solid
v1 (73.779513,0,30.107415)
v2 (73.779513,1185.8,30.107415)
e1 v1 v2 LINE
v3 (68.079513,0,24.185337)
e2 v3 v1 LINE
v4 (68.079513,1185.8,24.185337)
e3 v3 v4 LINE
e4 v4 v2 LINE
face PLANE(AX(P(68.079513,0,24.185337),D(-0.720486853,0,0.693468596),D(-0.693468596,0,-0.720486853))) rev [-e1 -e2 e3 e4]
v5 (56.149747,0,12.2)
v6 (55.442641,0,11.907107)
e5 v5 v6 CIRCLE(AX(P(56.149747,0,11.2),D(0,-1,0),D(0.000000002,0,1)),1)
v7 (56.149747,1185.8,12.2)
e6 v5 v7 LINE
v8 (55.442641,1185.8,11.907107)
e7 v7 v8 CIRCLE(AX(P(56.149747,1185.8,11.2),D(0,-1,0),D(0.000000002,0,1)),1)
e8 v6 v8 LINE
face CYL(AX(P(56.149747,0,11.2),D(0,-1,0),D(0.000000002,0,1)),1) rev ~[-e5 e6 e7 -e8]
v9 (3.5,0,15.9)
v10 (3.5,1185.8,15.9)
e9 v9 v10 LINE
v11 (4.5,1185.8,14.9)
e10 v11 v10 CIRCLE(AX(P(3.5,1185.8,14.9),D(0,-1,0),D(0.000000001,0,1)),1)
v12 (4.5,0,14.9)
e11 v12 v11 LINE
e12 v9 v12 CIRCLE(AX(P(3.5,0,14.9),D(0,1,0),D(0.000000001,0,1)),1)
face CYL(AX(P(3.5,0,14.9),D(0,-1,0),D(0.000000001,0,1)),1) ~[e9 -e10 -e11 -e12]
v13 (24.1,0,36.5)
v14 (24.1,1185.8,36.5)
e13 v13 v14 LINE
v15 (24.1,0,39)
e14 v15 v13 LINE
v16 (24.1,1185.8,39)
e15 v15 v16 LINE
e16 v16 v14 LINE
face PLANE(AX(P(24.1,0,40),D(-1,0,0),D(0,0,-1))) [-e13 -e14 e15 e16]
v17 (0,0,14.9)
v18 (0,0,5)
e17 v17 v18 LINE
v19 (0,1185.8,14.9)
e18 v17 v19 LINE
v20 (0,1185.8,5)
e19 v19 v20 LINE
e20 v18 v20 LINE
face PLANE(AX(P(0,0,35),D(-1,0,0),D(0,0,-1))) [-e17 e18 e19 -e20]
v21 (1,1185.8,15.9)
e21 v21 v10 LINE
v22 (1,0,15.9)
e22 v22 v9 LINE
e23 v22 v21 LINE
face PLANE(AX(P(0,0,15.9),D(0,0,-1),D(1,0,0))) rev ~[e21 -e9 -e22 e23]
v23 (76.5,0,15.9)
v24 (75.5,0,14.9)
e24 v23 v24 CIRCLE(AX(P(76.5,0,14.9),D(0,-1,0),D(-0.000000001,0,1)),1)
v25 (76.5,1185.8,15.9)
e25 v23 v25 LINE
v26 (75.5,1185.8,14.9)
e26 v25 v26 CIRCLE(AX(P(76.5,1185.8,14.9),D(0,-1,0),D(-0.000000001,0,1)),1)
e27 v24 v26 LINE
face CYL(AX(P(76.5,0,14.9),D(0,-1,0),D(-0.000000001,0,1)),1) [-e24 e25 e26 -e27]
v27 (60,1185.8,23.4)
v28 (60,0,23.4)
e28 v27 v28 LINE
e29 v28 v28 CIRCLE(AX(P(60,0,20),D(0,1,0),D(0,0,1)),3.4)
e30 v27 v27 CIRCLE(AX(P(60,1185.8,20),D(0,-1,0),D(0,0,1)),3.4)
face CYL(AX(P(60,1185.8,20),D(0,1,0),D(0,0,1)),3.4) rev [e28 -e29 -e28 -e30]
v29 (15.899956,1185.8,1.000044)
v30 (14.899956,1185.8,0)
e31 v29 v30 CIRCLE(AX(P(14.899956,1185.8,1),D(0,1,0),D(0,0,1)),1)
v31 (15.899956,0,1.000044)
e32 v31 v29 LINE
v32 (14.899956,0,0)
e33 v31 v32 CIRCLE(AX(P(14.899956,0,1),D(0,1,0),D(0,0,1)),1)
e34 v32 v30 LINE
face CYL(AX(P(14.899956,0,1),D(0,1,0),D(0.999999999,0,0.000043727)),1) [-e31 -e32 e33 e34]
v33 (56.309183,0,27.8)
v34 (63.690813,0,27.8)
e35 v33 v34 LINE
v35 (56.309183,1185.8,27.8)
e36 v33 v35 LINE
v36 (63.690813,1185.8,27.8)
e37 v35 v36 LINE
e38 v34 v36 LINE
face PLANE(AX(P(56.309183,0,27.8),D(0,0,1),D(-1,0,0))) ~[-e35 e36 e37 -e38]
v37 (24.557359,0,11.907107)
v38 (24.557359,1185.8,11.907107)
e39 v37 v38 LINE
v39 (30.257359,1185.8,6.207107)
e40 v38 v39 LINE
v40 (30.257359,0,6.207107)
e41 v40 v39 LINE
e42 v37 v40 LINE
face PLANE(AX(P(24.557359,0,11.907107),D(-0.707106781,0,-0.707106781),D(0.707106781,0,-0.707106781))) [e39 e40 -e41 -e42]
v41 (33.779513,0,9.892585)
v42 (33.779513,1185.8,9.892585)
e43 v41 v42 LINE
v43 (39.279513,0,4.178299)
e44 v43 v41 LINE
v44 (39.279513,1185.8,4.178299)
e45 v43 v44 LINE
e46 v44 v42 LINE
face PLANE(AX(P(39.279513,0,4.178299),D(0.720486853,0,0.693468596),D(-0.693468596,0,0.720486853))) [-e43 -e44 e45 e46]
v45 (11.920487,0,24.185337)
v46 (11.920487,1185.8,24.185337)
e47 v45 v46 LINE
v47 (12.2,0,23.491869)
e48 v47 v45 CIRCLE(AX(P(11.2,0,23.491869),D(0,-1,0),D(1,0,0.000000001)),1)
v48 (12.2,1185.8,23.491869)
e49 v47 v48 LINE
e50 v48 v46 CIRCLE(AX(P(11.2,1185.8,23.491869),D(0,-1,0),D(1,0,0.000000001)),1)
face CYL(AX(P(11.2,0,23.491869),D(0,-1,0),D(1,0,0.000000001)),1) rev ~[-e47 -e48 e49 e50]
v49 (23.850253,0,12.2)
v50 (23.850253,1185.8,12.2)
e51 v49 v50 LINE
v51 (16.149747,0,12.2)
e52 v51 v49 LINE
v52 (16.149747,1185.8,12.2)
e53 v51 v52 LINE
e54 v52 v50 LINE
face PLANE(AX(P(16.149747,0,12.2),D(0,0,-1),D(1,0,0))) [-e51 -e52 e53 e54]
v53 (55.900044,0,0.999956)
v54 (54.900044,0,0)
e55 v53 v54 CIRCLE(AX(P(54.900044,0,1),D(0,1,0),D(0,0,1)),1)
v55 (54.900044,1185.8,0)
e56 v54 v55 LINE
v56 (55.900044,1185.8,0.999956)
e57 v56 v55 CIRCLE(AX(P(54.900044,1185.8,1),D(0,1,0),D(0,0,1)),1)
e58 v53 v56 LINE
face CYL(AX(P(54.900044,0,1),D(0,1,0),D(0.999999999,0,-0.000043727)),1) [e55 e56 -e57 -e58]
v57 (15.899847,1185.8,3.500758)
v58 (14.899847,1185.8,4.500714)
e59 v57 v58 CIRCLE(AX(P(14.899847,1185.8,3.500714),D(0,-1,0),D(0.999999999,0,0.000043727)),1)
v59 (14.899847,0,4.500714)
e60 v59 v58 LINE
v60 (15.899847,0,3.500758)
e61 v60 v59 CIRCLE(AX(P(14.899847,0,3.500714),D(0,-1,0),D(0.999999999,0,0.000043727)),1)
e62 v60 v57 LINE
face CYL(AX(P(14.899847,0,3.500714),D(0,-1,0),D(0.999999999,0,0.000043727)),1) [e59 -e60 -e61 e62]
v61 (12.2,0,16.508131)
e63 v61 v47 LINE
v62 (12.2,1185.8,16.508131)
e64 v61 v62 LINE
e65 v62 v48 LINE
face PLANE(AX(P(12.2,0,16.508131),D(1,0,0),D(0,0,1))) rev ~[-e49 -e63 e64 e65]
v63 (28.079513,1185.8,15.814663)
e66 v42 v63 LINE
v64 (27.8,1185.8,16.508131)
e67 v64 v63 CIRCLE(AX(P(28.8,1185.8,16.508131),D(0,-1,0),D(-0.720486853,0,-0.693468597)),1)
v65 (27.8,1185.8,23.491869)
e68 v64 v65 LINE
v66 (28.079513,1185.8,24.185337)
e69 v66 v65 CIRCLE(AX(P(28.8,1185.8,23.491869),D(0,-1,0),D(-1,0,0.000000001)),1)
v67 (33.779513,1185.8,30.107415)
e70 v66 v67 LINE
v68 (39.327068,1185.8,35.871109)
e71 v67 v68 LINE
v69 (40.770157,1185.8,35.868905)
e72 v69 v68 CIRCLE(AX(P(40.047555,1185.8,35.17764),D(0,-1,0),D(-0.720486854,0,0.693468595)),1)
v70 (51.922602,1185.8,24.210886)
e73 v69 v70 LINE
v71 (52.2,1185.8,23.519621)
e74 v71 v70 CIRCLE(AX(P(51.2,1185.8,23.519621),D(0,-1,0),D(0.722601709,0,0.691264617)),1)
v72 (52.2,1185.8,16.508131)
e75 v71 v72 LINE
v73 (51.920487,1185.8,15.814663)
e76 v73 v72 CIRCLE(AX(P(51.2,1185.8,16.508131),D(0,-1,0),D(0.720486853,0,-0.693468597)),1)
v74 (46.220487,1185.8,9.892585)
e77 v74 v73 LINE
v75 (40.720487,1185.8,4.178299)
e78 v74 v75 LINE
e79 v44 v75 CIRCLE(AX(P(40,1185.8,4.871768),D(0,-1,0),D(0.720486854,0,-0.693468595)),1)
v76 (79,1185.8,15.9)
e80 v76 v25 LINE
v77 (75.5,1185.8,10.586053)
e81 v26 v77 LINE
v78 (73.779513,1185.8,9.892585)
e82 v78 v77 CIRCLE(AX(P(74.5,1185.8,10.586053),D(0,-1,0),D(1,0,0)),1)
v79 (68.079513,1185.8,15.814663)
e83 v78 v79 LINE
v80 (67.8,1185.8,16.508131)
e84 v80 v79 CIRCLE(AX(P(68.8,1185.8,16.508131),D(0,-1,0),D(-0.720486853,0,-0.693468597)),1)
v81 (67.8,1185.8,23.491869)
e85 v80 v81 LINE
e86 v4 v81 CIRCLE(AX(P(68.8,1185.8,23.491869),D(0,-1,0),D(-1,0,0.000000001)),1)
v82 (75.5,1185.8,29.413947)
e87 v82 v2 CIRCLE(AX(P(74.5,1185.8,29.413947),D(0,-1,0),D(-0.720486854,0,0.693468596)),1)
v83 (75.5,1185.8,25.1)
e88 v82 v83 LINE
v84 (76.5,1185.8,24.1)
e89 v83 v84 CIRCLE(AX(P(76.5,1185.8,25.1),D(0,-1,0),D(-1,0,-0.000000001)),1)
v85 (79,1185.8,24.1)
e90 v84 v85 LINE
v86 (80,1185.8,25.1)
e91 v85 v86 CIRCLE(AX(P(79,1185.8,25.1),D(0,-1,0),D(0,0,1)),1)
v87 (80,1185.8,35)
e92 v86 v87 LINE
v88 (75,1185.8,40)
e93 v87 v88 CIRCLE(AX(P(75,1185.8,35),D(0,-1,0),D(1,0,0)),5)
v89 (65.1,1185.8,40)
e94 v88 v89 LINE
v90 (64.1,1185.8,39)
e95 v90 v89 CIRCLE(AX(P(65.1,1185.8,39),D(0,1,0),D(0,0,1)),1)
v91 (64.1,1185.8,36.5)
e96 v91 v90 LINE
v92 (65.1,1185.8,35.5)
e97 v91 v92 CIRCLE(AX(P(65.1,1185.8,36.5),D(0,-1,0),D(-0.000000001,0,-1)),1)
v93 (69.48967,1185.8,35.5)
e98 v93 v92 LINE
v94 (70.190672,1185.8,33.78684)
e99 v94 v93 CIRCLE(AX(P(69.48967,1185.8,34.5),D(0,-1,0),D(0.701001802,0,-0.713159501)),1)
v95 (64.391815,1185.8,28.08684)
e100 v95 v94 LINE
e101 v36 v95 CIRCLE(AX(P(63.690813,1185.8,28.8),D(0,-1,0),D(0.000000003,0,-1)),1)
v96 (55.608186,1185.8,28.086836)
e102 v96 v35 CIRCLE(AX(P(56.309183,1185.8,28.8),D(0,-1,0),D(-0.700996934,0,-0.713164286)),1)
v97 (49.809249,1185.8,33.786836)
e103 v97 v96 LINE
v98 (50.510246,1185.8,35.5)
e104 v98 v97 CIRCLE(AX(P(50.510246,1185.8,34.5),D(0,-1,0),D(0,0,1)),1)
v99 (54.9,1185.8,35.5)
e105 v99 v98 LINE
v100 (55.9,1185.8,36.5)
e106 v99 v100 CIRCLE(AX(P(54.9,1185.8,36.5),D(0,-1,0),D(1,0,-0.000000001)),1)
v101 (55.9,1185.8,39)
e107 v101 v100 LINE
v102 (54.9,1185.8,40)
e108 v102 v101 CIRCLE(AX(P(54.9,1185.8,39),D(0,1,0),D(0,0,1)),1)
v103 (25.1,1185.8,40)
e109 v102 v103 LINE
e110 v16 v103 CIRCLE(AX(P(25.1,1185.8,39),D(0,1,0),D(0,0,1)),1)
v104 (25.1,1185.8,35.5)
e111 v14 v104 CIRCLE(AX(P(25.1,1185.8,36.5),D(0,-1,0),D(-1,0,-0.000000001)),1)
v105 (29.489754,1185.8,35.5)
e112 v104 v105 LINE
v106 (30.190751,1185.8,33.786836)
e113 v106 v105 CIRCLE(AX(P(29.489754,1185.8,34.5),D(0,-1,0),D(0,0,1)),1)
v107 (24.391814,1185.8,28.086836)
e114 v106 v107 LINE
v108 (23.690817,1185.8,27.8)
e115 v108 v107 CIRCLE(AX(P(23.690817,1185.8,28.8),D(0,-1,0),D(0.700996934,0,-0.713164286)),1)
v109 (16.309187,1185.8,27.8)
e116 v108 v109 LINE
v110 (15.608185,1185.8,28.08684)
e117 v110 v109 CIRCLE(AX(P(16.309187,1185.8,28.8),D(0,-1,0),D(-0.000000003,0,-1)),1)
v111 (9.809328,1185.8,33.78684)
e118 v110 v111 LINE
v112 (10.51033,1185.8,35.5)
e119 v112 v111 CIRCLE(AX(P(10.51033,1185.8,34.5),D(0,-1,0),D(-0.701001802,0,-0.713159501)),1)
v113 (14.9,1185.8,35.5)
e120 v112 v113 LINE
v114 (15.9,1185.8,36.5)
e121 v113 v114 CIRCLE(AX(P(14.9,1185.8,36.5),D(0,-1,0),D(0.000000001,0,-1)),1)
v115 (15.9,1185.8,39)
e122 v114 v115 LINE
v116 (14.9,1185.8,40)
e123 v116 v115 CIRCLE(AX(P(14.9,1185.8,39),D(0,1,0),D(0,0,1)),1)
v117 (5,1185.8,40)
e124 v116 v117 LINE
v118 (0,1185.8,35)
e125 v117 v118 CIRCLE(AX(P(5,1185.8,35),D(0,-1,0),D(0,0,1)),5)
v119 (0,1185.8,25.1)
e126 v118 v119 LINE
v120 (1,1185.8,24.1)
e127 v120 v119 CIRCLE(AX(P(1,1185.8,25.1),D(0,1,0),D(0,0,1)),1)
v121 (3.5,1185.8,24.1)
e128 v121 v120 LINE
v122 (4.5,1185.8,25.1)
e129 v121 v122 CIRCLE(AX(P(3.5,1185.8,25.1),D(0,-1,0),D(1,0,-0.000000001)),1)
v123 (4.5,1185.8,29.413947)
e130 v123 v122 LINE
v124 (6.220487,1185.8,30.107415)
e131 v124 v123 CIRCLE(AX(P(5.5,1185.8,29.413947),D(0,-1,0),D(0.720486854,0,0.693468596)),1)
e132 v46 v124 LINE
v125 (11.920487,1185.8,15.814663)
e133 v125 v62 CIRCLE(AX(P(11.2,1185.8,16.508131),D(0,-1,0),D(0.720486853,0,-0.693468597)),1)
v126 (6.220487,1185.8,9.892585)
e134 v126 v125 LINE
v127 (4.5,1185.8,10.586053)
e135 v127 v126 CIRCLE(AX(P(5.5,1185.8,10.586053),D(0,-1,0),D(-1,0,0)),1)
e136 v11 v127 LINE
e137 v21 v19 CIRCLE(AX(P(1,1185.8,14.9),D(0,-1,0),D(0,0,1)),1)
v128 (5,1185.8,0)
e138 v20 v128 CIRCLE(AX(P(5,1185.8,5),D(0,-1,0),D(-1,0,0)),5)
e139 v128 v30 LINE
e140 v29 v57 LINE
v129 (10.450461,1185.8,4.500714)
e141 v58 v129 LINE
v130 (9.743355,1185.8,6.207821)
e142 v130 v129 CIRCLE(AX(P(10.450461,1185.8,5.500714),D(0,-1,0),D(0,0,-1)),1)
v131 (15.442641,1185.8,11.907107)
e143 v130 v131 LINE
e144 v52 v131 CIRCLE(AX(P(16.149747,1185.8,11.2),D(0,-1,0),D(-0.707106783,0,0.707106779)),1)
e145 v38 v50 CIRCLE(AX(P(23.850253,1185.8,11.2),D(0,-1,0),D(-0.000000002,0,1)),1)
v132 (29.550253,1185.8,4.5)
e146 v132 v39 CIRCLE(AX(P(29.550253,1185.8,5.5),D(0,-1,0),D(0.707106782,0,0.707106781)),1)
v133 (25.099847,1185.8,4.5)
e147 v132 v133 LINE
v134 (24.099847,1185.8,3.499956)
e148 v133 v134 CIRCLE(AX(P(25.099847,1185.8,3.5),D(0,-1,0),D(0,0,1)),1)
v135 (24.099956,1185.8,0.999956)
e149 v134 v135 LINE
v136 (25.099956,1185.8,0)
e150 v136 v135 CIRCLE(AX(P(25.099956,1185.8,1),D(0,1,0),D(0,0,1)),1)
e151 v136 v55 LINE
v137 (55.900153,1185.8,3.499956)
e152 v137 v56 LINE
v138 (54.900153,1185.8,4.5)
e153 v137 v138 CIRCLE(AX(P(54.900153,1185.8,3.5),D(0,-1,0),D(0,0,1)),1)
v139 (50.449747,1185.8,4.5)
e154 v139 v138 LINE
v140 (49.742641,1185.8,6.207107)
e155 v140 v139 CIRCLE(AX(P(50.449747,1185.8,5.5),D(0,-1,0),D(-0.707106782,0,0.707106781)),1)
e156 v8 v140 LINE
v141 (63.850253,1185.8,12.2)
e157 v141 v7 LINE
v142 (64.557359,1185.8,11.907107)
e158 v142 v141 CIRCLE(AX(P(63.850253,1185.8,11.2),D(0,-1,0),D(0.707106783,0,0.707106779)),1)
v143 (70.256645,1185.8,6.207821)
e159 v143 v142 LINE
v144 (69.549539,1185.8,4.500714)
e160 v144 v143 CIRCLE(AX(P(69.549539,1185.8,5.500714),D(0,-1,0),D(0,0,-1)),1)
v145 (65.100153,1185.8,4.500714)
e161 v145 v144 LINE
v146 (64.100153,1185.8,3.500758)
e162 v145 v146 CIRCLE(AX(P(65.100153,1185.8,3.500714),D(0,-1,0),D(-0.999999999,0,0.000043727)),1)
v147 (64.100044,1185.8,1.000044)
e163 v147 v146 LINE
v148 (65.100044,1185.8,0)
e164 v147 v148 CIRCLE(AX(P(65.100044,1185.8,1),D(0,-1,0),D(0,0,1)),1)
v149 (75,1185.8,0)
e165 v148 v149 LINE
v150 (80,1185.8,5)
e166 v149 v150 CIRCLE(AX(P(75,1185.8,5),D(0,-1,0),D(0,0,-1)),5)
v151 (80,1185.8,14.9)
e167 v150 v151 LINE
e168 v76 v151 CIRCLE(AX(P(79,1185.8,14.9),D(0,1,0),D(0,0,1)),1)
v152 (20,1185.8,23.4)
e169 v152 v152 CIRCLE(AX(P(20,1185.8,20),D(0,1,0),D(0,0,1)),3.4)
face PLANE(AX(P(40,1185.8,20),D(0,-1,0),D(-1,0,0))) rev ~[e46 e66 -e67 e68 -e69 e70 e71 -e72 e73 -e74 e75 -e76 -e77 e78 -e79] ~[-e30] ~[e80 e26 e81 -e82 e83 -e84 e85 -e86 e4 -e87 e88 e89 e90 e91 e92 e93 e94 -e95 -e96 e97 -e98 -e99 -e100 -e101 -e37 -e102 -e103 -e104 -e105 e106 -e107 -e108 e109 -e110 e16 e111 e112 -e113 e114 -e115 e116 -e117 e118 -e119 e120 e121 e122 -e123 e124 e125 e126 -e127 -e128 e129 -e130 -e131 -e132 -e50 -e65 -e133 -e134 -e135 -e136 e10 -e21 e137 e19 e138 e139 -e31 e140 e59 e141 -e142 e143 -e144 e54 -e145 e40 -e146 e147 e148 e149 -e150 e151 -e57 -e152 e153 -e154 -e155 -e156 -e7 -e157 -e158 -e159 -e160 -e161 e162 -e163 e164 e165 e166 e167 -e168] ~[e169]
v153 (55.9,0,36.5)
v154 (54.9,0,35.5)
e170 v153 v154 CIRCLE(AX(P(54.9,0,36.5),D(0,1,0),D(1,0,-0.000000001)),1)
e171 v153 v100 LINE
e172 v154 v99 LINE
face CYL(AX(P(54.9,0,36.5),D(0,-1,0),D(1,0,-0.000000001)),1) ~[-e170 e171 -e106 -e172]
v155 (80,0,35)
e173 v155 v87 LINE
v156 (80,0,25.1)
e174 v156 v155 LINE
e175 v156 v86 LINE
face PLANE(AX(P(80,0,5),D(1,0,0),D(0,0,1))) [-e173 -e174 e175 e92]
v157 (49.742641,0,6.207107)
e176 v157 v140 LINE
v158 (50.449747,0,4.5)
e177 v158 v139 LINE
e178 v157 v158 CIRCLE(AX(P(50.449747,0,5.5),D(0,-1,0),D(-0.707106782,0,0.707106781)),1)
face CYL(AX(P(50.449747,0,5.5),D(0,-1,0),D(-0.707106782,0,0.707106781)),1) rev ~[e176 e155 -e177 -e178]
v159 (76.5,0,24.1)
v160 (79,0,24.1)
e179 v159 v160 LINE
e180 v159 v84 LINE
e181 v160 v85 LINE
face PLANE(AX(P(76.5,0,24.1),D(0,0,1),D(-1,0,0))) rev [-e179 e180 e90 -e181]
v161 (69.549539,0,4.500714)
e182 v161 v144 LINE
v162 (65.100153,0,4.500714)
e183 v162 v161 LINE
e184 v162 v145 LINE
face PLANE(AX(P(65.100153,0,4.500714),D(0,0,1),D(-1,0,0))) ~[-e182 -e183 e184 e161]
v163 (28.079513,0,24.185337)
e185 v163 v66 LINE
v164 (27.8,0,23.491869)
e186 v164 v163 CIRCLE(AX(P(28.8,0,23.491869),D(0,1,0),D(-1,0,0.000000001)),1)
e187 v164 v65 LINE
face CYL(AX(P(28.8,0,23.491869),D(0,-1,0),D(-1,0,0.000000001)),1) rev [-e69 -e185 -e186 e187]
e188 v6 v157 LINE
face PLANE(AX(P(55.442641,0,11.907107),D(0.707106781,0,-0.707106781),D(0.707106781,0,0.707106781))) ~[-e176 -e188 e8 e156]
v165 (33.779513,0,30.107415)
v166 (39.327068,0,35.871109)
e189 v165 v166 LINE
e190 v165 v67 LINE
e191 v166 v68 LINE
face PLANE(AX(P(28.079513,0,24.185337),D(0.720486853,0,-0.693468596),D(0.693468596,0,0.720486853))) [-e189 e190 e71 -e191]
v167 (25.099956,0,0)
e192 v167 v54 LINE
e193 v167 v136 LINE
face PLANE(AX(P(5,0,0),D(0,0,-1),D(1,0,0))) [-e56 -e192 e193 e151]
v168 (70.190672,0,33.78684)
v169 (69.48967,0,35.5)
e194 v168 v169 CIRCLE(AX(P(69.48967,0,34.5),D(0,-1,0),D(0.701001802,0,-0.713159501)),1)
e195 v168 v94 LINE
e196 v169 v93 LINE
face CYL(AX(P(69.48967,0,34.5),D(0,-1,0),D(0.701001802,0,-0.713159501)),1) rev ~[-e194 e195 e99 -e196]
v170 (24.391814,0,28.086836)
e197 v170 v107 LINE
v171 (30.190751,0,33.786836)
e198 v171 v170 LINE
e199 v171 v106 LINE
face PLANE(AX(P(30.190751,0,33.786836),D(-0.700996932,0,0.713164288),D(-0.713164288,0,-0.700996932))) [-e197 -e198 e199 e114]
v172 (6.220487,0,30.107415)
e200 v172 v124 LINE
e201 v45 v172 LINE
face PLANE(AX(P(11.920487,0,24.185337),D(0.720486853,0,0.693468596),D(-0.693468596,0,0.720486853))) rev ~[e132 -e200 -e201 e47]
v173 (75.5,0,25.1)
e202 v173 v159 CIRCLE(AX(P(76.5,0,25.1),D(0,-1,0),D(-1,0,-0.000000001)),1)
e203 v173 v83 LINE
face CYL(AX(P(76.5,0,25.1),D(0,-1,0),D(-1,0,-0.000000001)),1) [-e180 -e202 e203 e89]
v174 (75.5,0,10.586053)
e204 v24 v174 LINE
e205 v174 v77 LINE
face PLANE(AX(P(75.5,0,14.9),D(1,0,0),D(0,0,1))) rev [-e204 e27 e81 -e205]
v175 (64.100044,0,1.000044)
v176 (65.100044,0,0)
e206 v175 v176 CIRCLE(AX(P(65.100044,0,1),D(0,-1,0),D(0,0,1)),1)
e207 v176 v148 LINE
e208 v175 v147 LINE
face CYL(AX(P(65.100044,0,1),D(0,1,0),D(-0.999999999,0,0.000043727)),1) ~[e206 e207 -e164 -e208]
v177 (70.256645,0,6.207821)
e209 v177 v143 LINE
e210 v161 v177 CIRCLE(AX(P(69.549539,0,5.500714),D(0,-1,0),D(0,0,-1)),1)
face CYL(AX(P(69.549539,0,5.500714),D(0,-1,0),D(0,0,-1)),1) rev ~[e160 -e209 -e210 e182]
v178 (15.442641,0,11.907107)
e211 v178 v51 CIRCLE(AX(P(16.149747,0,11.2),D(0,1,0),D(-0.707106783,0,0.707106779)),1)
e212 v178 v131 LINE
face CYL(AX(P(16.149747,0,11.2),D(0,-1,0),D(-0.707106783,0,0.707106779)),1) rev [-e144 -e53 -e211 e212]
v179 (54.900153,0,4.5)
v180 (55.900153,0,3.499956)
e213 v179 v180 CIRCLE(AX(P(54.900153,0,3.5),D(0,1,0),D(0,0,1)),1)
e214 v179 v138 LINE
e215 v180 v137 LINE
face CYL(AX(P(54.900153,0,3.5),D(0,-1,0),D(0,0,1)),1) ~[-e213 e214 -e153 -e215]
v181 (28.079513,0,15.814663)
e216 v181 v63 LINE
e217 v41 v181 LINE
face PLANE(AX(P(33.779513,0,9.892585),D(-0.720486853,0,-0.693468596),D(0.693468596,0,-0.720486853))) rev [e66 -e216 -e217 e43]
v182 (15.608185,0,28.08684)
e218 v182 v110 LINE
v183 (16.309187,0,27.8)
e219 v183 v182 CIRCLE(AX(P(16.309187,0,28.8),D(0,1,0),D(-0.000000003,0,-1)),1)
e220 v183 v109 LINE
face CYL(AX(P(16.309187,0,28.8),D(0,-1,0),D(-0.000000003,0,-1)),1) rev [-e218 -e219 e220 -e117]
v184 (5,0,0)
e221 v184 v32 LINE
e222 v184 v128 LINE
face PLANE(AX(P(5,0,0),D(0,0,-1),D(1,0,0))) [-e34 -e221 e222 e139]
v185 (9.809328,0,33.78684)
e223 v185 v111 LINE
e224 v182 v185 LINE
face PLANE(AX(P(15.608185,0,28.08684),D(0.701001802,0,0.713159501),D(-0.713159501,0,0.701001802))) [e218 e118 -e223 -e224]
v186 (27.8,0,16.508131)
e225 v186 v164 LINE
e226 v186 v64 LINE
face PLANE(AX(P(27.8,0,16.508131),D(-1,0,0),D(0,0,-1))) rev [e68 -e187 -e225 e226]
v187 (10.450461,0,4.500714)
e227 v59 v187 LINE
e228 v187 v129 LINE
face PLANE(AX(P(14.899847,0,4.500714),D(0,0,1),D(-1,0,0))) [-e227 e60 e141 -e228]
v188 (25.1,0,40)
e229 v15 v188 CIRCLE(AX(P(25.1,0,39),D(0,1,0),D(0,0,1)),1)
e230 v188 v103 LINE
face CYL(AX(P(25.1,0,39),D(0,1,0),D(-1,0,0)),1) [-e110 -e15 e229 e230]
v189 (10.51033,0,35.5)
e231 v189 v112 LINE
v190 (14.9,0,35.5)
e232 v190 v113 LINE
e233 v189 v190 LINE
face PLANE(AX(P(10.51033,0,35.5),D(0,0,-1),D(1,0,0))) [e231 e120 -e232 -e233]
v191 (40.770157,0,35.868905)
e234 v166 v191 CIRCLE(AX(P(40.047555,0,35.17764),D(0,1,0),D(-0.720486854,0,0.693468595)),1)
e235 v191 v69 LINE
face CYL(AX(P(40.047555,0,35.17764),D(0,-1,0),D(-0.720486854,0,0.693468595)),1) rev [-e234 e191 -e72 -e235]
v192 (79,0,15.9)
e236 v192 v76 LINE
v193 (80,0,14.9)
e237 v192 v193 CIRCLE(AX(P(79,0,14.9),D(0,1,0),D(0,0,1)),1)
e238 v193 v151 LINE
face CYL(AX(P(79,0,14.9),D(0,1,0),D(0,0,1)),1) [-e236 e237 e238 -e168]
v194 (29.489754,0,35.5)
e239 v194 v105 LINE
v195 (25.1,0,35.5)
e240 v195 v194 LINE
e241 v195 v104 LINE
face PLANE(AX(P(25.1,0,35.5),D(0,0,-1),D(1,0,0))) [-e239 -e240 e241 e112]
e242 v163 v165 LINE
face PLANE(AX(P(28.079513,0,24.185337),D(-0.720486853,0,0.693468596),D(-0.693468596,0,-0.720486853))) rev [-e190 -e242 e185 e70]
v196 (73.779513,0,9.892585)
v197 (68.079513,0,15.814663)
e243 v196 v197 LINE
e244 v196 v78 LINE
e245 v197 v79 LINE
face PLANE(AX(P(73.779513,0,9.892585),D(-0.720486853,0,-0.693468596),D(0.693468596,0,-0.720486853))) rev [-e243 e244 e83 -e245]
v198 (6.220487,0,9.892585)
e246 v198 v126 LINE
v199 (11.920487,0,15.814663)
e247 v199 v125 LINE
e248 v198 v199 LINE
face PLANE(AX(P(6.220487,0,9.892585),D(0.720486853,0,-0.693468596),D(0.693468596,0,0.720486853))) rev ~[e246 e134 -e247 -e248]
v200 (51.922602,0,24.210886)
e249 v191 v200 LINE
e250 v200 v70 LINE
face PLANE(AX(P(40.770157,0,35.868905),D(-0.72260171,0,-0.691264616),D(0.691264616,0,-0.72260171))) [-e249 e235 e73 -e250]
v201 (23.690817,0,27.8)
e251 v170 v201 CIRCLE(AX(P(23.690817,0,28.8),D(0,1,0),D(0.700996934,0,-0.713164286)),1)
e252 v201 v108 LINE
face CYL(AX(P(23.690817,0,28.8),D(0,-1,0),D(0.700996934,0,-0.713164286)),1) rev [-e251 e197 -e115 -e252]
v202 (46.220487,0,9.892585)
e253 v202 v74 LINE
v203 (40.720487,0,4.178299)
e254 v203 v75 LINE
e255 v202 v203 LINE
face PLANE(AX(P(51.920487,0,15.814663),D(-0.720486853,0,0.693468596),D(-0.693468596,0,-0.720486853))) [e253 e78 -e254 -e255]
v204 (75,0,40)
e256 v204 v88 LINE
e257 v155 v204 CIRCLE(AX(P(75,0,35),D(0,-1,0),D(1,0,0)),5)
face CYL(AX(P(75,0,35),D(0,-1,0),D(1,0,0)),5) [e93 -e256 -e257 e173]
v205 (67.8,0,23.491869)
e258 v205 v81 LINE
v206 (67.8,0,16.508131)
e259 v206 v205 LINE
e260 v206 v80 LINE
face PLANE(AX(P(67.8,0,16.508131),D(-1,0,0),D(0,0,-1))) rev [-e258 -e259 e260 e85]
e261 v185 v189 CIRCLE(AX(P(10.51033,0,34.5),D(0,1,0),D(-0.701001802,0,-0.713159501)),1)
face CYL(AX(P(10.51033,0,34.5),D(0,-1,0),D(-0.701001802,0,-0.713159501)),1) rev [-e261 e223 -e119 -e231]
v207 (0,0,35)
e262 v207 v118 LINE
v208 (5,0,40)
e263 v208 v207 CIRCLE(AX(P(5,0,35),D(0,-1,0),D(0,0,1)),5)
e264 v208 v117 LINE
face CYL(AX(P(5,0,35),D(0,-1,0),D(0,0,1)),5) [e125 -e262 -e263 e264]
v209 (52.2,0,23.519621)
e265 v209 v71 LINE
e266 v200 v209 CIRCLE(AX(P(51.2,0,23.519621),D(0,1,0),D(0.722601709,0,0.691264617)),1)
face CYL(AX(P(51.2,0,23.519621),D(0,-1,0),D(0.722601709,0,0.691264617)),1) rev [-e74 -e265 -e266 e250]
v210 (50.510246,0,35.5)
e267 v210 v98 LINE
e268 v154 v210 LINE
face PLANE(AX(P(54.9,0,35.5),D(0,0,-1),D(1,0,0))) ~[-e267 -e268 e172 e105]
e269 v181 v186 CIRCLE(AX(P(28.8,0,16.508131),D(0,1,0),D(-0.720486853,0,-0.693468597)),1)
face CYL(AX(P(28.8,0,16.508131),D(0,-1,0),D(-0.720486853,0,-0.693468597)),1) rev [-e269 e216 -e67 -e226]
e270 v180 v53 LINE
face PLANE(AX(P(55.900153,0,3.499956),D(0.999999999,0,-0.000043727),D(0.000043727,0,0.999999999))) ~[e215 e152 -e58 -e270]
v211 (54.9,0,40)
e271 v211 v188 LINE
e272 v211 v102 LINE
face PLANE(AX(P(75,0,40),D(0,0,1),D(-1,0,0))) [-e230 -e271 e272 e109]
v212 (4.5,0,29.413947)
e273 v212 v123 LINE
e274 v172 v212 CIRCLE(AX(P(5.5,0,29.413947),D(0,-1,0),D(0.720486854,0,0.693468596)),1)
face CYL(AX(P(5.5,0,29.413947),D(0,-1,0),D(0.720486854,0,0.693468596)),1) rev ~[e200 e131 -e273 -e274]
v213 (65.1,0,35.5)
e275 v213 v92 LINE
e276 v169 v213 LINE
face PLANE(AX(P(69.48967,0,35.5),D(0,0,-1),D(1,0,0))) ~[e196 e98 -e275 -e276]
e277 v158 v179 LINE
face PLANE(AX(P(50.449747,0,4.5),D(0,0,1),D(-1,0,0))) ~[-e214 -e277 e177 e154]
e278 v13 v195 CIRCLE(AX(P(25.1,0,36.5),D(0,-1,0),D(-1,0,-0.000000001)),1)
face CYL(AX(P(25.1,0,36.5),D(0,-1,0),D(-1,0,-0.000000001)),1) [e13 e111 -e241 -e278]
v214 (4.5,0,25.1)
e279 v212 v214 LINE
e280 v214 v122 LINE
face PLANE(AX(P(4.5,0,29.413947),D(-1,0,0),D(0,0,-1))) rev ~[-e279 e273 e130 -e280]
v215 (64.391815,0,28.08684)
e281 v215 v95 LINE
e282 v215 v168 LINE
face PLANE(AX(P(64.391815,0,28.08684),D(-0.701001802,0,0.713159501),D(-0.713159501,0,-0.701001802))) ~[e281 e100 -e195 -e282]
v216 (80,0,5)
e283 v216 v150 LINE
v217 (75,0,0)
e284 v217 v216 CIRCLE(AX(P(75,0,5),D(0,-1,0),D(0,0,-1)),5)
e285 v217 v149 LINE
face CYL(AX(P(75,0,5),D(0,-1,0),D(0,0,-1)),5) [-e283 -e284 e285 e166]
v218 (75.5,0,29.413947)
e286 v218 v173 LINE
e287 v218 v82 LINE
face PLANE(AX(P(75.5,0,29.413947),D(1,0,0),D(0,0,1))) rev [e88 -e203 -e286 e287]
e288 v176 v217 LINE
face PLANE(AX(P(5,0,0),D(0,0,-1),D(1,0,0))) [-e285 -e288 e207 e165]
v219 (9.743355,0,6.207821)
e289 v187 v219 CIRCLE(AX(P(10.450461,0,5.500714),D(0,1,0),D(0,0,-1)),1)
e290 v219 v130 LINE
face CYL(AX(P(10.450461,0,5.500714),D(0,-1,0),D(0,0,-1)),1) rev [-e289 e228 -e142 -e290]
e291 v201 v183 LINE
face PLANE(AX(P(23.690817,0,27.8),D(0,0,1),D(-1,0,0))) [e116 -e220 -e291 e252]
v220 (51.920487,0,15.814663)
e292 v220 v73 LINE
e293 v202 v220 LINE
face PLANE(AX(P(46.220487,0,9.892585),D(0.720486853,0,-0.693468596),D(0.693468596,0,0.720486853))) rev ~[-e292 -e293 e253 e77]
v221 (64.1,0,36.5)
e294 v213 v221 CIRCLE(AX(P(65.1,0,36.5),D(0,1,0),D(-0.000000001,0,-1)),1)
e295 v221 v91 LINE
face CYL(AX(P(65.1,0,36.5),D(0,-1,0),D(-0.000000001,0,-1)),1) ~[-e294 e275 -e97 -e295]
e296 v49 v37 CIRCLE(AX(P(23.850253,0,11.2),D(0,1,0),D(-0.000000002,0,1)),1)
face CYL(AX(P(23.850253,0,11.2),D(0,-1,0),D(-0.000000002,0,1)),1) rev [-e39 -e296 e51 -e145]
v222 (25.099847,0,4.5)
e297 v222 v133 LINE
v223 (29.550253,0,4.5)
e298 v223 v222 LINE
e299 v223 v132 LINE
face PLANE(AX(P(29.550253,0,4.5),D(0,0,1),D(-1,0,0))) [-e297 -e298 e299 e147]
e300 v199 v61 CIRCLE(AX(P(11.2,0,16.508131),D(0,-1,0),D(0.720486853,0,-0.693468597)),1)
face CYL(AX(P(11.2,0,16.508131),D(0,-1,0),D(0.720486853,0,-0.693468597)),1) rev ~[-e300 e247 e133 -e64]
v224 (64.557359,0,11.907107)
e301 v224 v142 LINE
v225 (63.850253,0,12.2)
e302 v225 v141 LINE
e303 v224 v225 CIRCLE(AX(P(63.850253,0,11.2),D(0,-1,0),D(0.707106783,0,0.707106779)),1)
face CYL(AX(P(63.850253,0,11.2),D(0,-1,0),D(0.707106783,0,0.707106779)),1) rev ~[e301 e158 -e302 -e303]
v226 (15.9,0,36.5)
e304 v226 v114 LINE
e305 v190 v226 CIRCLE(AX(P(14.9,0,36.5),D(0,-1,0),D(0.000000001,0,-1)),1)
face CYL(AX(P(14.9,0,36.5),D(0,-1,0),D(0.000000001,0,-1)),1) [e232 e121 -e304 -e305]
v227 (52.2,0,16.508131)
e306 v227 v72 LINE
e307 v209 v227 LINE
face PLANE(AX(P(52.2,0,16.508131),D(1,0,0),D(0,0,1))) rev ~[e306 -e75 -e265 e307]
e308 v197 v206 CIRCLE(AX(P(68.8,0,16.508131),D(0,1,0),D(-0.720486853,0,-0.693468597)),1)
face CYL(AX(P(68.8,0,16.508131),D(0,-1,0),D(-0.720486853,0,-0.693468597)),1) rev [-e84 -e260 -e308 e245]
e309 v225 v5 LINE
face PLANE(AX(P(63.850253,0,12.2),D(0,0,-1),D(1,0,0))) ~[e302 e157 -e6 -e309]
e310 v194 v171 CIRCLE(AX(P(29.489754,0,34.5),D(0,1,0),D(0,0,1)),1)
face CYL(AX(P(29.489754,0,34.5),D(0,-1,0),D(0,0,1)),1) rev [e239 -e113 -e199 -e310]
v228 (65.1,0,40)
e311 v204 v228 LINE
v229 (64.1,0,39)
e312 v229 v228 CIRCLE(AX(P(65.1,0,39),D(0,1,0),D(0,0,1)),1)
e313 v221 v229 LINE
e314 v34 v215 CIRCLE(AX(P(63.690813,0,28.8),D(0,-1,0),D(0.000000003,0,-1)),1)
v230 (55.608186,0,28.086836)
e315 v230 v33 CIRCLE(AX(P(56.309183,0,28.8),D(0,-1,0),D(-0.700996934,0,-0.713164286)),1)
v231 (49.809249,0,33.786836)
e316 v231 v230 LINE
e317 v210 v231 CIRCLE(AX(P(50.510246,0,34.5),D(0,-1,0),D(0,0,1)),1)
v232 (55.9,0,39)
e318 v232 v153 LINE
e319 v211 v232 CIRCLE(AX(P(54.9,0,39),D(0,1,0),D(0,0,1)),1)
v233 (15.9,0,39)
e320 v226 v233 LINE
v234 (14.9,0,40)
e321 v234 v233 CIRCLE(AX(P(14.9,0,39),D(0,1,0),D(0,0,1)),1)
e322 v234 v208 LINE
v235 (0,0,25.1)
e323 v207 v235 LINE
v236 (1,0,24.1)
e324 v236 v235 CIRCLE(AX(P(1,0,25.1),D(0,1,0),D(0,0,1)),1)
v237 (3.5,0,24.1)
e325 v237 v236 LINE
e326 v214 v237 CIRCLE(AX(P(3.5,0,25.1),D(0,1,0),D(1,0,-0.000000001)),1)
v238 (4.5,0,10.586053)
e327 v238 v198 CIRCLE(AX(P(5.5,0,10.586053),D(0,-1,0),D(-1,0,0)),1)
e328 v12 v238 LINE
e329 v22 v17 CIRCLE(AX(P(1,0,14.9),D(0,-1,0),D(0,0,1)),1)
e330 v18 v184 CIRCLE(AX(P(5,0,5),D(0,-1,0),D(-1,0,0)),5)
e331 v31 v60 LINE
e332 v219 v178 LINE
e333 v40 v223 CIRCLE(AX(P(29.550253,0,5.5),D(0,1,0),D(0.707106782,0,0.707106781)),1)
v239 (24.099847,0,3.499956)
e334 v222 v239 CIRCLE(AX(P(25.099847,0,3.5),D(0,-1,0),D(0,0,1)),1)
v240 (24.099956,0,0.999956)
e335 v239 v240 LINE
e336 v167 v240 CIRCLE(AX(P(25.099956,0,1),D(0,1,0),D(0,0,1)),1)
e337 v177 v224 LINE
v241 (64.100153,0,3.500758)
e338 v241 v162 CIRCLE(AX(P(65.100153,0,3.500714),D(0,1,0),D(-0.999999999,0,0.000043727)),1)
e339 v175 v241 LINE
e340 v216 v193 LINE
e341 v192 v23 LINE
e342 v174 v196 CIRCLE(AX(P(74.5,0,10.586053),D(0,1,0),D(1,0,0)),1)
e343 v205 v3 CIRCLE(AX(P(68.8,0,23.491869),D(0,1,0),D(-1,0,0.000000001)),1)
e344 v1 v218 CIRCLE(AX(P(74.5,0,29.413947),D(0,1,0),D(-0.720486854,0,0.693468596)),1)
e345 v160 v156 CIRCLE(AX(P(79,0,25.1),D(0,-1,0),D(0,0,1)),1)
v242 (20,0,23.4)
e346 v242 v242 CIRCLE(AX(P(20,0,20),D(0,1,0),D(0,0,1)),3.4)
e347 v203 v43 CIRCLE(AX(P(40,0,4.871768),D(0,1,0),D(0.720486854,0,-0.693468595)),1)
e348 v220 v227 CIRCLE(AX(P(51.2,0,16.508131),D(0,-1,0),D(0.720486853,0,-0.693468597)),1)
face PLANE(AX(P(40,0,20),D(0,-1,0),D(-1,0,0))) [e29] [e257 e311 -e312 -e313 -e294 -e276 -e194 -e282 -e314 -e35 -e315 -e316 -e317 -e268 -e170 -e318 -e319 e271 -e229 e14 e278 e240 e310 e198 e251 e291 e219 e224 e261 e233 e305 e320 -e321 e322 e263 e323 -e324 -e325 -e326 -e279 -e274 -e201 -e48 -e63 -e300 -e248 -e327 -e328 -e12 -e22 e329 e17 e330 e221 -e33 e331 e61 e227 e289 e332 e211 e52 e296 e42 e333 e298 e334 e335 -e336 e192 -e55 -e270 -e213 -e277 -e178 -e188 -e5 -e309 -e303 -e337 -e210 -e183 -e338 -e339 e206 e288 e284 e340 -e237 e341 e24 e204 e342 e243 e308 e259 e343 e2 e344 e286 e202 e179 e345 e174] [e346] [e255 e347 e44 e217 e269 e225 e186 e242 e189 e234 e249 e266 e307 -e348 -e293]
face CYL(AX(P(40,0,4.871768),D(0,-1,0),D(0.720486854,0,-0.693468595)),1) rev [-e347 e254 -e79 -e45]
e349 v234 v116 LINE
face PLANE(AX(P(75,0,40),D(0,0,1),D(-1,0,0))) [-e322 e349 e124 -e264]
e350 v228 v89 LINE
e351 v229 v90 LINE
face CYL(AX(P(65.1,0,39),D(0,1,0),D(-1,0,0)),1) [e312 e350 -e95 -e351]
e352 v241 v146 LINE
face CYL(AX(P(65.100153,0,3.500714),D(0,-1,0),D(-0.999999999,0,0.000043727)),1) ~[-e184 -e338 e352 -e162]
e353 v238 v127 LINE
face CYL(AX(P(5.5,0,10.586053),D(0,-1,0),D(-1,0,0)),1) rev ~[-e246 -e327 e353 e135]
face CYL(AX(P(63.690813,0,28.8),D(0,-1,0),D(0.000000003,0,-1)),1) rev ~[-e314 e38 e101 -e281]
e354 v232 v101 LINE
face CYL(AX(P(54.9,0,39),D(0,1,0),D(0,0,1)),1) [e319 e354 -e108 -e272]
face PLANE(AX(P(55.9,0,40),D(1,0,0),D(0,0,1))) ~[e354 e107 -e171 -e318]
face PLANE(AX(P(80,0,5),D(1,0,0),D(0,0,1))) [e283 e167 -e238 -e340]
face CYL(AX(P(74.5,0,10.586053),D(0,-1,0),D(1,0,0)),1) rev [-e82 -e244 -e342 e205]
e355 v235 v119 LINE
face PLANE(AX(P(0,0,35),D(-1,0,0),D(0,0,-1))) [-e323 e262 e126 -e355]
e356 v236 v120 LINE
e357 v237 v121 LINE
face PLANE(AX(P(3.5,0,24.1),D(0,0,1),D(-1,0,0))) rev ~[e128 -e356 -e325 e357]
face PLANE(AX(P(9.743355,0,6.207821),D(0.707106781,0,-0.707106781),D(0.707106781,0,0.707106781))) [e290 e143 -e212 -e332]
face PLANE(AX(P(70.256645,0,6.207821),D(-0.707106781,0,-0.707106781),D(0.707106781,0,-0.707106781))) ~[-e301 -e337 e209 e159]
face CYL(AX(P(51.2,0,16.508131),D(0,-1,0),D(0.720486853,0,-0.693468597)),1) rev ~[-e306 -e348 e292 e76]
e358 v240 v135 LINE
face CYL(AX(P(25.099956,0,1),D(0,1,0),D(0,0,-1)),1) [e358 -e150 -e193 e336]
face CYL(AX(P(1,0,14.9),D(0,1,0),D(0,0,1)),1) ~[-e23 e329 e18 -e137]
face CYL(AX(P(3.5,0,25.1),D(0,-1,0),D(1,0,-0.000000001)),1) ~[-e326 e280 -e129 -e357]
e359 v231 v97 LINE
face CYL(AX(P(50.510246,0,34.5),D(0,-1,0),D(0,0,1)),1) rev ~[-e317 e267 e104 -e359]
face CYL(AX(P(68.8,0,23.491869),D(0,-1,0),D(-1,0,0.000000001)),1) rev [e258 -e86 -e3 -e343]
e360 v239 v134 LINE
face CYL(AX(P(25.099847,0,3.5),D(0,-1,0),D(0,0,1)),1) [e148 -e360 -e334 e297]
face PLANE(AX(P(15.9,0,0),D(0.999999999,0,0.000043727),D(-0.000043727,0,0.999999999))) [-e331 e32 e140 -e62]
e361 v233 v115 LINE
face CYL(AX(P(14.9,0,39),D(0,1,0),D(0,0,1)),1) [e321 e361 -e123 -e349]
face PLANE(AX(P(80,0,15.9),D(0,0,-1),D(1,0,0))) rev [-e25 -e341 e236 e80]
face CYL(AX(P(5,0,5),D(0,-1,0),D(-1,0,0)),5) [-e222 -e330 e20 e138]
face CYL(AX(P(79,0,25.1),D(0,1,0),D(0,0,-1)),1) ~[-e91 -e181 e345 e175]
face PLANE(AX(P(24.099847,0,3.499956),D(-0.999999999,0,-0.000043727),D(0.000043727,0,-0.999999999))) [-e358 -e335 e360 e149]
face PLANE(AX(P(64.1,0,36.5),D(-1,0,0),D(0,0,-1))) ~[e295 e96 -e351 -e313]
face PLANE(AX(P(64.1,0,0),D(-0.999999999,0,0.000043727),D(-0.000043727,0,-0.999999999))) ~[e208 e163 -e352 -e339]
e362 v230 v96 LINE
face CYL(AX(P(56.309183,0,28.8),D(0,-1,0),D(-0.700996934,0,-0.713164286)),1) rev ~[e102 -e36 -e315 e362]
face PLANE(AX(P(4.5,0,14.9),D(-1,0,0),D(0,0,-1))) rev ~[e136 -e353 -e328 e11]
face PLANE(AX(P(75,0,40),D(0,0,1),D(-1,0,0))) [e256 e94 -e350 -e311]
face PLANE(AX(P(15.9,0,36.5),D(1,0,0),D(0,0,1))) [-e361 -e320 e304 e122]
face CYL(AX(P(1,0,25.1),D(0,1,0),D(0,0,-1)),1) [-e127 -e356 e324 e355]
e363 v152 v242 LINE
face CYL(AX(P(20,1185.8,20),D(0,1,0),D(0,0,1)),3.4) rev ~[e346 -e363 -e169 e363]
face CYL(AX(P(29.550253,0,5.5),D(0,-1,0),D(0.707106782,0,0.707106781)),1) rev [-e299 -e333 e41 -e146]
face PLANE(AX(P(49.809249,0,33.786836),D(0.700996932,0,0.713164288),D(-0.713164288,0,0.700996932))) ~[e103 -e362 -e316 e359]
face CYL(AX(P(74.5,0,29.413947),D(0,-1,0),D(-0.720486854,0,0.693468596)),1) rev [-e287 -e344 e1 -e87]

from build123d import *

# Parameters (mm, degrees)
BOSS_EXTRUDE1_DEPTH   = 1185.8
SKETCH3_R             = 3.4
CUT_EXTRUDE1_DEPTH    = 1190.168465778
CUT_EXTRUDE2_DEPTH    = 1190.168465778
FILLET1_R             = 1
FILLET2_R             = 1
FILLET3_R             = 1
CUT_EXTRUDE3_DEPTH    = 1190.168465778
CUT_EXTRUDE4_DEPTH    = 1190.168465778
FILLET4_R             = 1
FILLET5_R             = 1
FILLET6_R             = 1
FILLET7_R             = 1
FILLET8_R             = 1
FILLET9_R             = 1
FILLET10_R            = 1
FILLET11_R            = 1
MIRROR11_COPY_1_DEPTH = 1190.168465778
MIRROR11_COPY_2_DEPTH = 1190.168465778
CUT_EXTRUDE5_DEPTH    = 1190.168465778


with BuildPart() as part:
    # Sketch1 → Boss-Extrude1 (new body)
    with BuildSketch(Plane(origin=(0, 0, 0), x_dir=(1, 0, 0), z_dir=(0, 1, 0))):
        with BuildLine():
            Line((5, 0), (75, 0))
            ThreePointArc((75, 0), (78.535533906, -1.464466094), (80, -5))
            Line((80, -5), (80, -35))
            ThreePointArc((80, -35), (78.535533906, -38.535533906), (75, -40))
            Line((75, -40), (5, -40))
            ThreePointArc((5, -40), (1.464466094, -38.535533906), (0, -35))
            Line((0, -35), (0, -5))
            ThreePointArc((0, -5), (1.464466094, -1.464466094), (5, 0))
        make_face()
    extrude(amount=BOSS_EXTRUDE1_DEPTH)

    # Sketch3 → Cut-Extrude1 (cut, through all)
    with BuildSketch(Plane(origin=(0, 1185.8, 0), x_dir=(1, 0, 0), z_dir=(0, 1, 0))):
        with Locations(Location((20, -20, 0), (0, 0, 270))):
            Circle(SKETCH3_R)
    cut_extrude1 = extrude(amount=-CUT_EXTRUDE1_DEPTH, mode=Mode.SUBTRACT)

    # Mirror3: Cut-Extrude1 across plane
    add(cut_extrude1.mirror(Plane(origin=(40, 0, 0), x_dir=(0, 0, 1), z_dir=(1, 0, 0))), mode=Mode.SUBTRACT)

    # Sketch7 → Cut-Extrude2 (cut, through all)
    with BuildSketch(Plane(origin=(0, 0, 0), x_dir=(-1, 0, 0), z_dir=(0, -1, 0))):
        with BuildLine():
            Line((-15.9, -40), (-24.1, -40))
            Line((-24.1, -40), (-24.1, -36.5))
            ThreePointArc((-24.1, -36.5), (-24.392893219, -35.792893219), (-25.1, -35.5))
            Line((-25.1, -35.5), (-29.489753594, -35.5))
            ThreePointArc((-29.489753594, -35.5), (-30.415270825, -34.8787055), (-30.190750526, -33.786835712))
            Line((-30.190750526, -33.786835712), (-24.391814382, -28.086835712))
            ThreePointArc((-24.391814382, -28.086835712), (-24.069522951, -27.874482769), (-23.69081745, -27.8))
            Line((-23.69081745, -27.8), (-16.309186536, -27.8))
            ThreePointArc((-16.309186536, -27.8), (-15.930477876, -27.874484063), (-15.608184734, -28.086840499))
            Line((-15.608184734, -28.086840499), (-9.809327805, -33.786840499))
            ThreePointArc((-9.809327805, -33.786840499), (-9.584813669, -34.87870866), (-10.510329607, -35.5))
            Line((-10.510329607, -35.5), (-14.9, -35.5))
            ThreePointArc((-14.9, -35.5), (-15.607106781, -35.792893219), (-15.9, -36.5))
            Line((-15.9, -36.5), (-15.9, -40))
        make_face()
    cut_extrude2 = extrude(amount=-CUT_EXTRUDE2_DEPTH, mode=Mode.SUBTRACT)

    # Fillet1
    fillet1_edges = [part.edges().sort_by_distance(p)[0] for p in [
        (15.9, 592.9, 40),
        (24.1, 592.9, 40),
    ]]
    fillet(fillet1_edges, radius=FILLET1_R)

    # Mirror8: Cut-Extrude2 across plane
    add(cut_extrude2.mirror(Plane(origin=(40, 0, 0), x_dir=(0, 0, 1), z_dir=(1, 0, 0))), mode=Mode.SUBTRACT)

    # Fillet2
    fillet2_edges = [part.edges().sort_by_distance(p)[0] for p in [
        (55.9, 592.9, 40),
    ]]
    fillet(fillet2_edges, radius=FILLET2_R)

    # Fillet3
    fillet3_edges = [part.edges().sort_by_distance(p)[0] for p in [
        (64.1, 592.9, 40),
    ]]
    fillet(fillet3_edges, radius=FILLET3_R)

    # Sketch9 → Cut-Extrude3 (cut, through all)
    with BuildSketch(Plane(origin=(0, 0, 0), x_dir=(1, 0, 0), z_dir=(0, 1, 0))):
        with BuildLine():
            Line((14.899846923, -4.500713815), (10.450461284, -4.500713815))
            ThreePointArc((10.450461284, -4.500713815), (9.526581751, -5.118030383), (9.743354502, -6.207820596))
            Line((9.743354502, -6.207820596), (15.442640687, -11.907106781))
            ThreePointArc((15.442640687, -11.907106781), (15.767064036, -12.123879533), (16.149747468, -12.2))
            Line((16.149747468, -12.2), (23.850252532, -12.2))
            ThreePointArc((23.850252532, -12.2), (24.232935964, -12.123879533), (24.557359313, -11.907106781))
            Line((24.557359313, -11.907106781), (30.257359313, -6.207106781))
            ThreePointArc((30.257359313, -6.207106781), (30.474132064, -5.117316568), (29.550252532, -4.5))
            Line((29.550252532, -4.5), (25.099846964, -4.5))
            ThreePointArc((25.099846964, -4.5), (24.392724723, -4.207091321), (24.099846965, -3.499956273))
            Line((24.099846965, -3.499956273), (24.100000008, 0))
            Line((24.100000008, 0), (15.9, 0))
            Line((15.9, 0), (15.899846922, -3.500757542))
            ThreePointArc((15.899846922, -3.500757542), (15.606938244, -4.207836056), (14.899846923, -4.500713815))
        make_face()
    cut_extrude3 = extrude(amount=CUT_EXTRUDE3_DEPTH, mode=Mode.SUBTRACT)

    # Mirror9: Cut-Extrude3 across plane
    add(cut_extrude3.mirror(Plane(origin=(40, 0, 0), x_dir=(0, 0, 1), z_dir=(1, 0, 0))), mode=Mode.SUBTRACT)

    # Sketch10 → Cut-Extrude4 (cut, through all)
    with BuildSketch(Plane(origin=(0, 0, 0), x_dir=(1, 0, 0), z_dir=(0, 1, 0))):
        with BuildLine():
            Line((4.5, -14.9), (4.5, -10.58605332))
            ThreePointArc((4.5, -10.58605332), (5.126159695, -9.658560233), (6.220486853, -9.892584724))
            Line((6.220486853, -9.892584724), (11.920486853, -15.814662646))
            ThreePointArc((11.920486853, -15.814662646), (12.127493087, -16.134290938), (12.2, -16.508131242))
            Line((12.2, -16.508131242), (12.2, -23.491868758))
            ThreePointArc((12.2, -23.491868758), (12.127493087, -23.865709062), (11.920486853, -24.185337354))
            Line((11.920486853, -24.185337354), (6.220486853, -30.107415276))
            ThreePointArc((6.220486853, -30.107415276), (5.126159695, -30.341439767), (4.5, -29.41394668))
            Line((4.5, -29.41394668), (4.5, -25.1))
            ThreePointArc((4.5, -25.1), (4.207106781, -24.392893219), (3.5, -24.1))
            Line((3.5, -24.1), (0, -24.1))
            Line((0, -24.1), (0, -15.9))
            Line((0, -15.9), (3.5, -15.9))
            ThreePointArc((3.5, -15.9), (4.207106781, -15.607106781), (4.5, -14.9))
        make_face()
    cut_extrude4 = extrude(amount=CUT_EXTRUDE4_DEPTH, mode=Mode.SUBTRACT)

    # Fillet4
    fillet4_edges = [part.edges().sort_by_distance(p)[0] for p in [
        (24.100000008, 592.9, 0),
    ]]
    fillet(fillet4_edges, radius=FILLET4_R)

    # Fillet5
    fillet5_edges = [part.edges().sort_by_distance(p)[0] for p in [
        (64.1, 592.9, 0),
    ]]
    fillet(fillet5_edges, radius=FILLET5_R)

    # Fillet6
    fillet6_edges = [part.edges().sort_by_distance(p)[0] for p in [
        (55.899999992, 592.9, 0),
    ]]
    fillet(fillet6_edges, radius=FILLET6_R)

    # Fillet7
    fillet7_edges = [part.edges().sort_by_distance(p)[0] for p in [
        (15.9, 592.9, 0),
    ]]
    fillet(fillet7_edges, radius=FILLET7_R)

    # Fillet8
    fillet8_edges = [part.edges().sort_by_distance(p)[0] for p in [
        (0, 592.9, 24.1),
    ]]
    fillet(fillet8_edges, radius=FILLET8_R)

    # Fillet9
    fillet9_edges = [part.edges().sort_by_distance(p)[0] for p in [
        (0, 592.9, 15.9),
    ]]
    fillet(fillet9_edges, radius=FILLET9_R)

    # Mirror10: Cut-Extrude4 across plane
    add(cut_extrude4.mirror(Plane(origin=(40, 0, 0), x_dir=(0, 0, 1), z_dir=(1, 0, 0))), mode=Mode.SUBTRACT)

    # Fillet10
    fillet10_edges = [part.edges().sort_by_distance(p)[0] for p in [
        (80, 592.9, 15.9),
    ]]
    fillet(fillet10_edges, radius=FILLET10_R)

    # Fillet11
    fillet11_edges = [part.edges().sort_by_distance(p)[0] for p in [
        (80, 592.9, 24.1),
    ]]
    fillet(fillet11_edges, radius=FILLET11_R)

    # Mirror11 copy 1 sketch → Mirror11 copy 1 (cut, through all)
    with BuildSketch(Plane(origin=(40, 0, 0), x_dir=(1, 0, 0), z_dir=(0, 1, 0))):
        with BuildLine():
            Line((4.5, -14.9), (4.5, -10.58605332))
            ThreePointArc((4.5, -10.58605332), (5.126159695, -9.658560233), (6.220486853, -9.892584724))
            Line((6.220486853, -9.892584724), (11.920486853, -15.814662646))
            ThreePointArc((11.920486853, -15.814662646), (12.127493087, -16.134290938), (12.2, -16.508131242))
            Line((12.2, -16.508131242), (12.2, -23.491868758))
            ThreePointArc((12.2, -23.491868758), (12.127493087, -23.865709062), (11.920486853, -24.185337354))
            Line((11.920486853, -24.185337354), (6.220486853, -30.107415276))
            ThreePointArc((6.220486853, -30.107415276), (5.126159695, -30.341439767), (4.5, -29.41394668))
            Line((4.5, -29.41394668), (4.5, -25.1))
            ThreePointArc((4.5, -25.1), (4.207106781, -24.392893219), (3.5, -24.1))
            Line((3.5, -24.1), (0, -24.1))
            Line((0, -24.1), (0, -15.9))
            Line((0, -15.9), (3.5, -15.9))
            ThreePointArc((3.5, -15.9), (4.207106781, -15.607106781), (4.5, -14.9))
        make_face()
    extrude(amount=MIRROR11_COPY_1_DEPTH, mode=Mode.SUBTRACT)

    # Mirror11 copy 2 sketch → Mirror11 copy 2 (cut, through all)
    with BuildSketch(Plane(origin=(120, 0, 0), x_dir=(-1, 0, 0), z_dir=(0, 1, 0))):
        with BuildLine():
            Line((4.5, 14.9), (4.5, 10.58605332))
            ThreePointArc((4.5, 10.58605332), (5.126159695, 9.658560233), (6.220486853, 9.892584724))
            Line((6.220486853, 9.892584724), (11.920486853, 15.814662646))
            ThreePointArc((11.920486853, 15.814662646), (12.127493087, 16.134290938), (12.2, 16.508131242))
            Line((12.2, 16.508131242), (12.2, 23.491868758))
            ThreePointArc((12.2, 23.491868758), (12.127493087, 23.865709062), (11.920486853, 24.185337354))
            Line((11.920486853, 24.185337354), (6.220486853, 30.107415276))
            ThreePointArc((6.220486853, 30.107415276), (5.126159695, 30.341439767), (4.5, 29.41394668))
            Line((4.5, 29.41394668), (4.5, 25.1))
            ThreePointArc((4.5, 25.1), (4.207106781, 24.392893219), (3.5, 24.1))
            Line((3.5, 24.1), (0, 24.1))
            Line((0, 24.1), (0, 15.9))
            Line((0, 15.9), (3.5, 15.9))
            ThreePointArc((3.5, 15.9), (4.207106781, 15.607106781), (4.5, 14.9))
        make_face()
    extrude(amount=MIRROR11_COPY_2_DEPTH, mode=Mode.SUBTRACT)

    # Mirror12: Cut-Extrude4 across plane
    add(cut_extrude4.mirror(Plane.ZY.offset(-20)), mode=Mode.SUBTRACT)

    # Sketch12 → Cut-Extrude5 (cut, through all)
    with BuildSketch(Plane(origin=(0, 0, 0), x_dir=(-1, 0, 0), z_dir=(0, -1, 0))):
        with BuildLine():
            Line((-28.079513147, -24.185337354), (-39.327067998, -35.871108628))
            ThreePointArc((-39.327067998, -35.871108628), (-40.049082116, -36.177638866), (-40.770156561, -35.868904648))
            Line((-40.770156561, -35.868904648), (-51.922601709, -24.210885791))
            ThreePointArc((-51.922601709, -24.210885791), (-52.128062958, -23.892044517), (-52.2, -23.519621175))
            Line((-52.2, -23.519621175), (-52.2, -16.508131242))
            ThreePointArc((-52.2, -16.508131242), (-52.127493087, -16.134290938), (-51.920486853, -15.814662646))
            Line((-51.920486853, -15.814662646), (-40.720486853, -4.17829901))
            ThreePointArc((-40.720486853, -4.17829901), (-40, -3.871767606), (-39.279513147, -4.17829901))
            Line((-39.279513147, -4.17829901), (-28.079513147, -15.814662646))
            ThreePointArc((-28.079513147, -15.814662646), (-27.872506913, -16.134290938), (-27.8, -16.508131242))
            Line((-27.8, -16.508131242), (-27.8, -23.491868758))
            ThreePointArc((-27.8, -23.491868758), (-27.872506913, -23.865709062), (-28.079513147, -24.185337354))
        make_face()
    extrude(amount=-CUT_EXTRUDE5_DEPTH, mode=Mode.SUBTRACT)


solid = part.part
